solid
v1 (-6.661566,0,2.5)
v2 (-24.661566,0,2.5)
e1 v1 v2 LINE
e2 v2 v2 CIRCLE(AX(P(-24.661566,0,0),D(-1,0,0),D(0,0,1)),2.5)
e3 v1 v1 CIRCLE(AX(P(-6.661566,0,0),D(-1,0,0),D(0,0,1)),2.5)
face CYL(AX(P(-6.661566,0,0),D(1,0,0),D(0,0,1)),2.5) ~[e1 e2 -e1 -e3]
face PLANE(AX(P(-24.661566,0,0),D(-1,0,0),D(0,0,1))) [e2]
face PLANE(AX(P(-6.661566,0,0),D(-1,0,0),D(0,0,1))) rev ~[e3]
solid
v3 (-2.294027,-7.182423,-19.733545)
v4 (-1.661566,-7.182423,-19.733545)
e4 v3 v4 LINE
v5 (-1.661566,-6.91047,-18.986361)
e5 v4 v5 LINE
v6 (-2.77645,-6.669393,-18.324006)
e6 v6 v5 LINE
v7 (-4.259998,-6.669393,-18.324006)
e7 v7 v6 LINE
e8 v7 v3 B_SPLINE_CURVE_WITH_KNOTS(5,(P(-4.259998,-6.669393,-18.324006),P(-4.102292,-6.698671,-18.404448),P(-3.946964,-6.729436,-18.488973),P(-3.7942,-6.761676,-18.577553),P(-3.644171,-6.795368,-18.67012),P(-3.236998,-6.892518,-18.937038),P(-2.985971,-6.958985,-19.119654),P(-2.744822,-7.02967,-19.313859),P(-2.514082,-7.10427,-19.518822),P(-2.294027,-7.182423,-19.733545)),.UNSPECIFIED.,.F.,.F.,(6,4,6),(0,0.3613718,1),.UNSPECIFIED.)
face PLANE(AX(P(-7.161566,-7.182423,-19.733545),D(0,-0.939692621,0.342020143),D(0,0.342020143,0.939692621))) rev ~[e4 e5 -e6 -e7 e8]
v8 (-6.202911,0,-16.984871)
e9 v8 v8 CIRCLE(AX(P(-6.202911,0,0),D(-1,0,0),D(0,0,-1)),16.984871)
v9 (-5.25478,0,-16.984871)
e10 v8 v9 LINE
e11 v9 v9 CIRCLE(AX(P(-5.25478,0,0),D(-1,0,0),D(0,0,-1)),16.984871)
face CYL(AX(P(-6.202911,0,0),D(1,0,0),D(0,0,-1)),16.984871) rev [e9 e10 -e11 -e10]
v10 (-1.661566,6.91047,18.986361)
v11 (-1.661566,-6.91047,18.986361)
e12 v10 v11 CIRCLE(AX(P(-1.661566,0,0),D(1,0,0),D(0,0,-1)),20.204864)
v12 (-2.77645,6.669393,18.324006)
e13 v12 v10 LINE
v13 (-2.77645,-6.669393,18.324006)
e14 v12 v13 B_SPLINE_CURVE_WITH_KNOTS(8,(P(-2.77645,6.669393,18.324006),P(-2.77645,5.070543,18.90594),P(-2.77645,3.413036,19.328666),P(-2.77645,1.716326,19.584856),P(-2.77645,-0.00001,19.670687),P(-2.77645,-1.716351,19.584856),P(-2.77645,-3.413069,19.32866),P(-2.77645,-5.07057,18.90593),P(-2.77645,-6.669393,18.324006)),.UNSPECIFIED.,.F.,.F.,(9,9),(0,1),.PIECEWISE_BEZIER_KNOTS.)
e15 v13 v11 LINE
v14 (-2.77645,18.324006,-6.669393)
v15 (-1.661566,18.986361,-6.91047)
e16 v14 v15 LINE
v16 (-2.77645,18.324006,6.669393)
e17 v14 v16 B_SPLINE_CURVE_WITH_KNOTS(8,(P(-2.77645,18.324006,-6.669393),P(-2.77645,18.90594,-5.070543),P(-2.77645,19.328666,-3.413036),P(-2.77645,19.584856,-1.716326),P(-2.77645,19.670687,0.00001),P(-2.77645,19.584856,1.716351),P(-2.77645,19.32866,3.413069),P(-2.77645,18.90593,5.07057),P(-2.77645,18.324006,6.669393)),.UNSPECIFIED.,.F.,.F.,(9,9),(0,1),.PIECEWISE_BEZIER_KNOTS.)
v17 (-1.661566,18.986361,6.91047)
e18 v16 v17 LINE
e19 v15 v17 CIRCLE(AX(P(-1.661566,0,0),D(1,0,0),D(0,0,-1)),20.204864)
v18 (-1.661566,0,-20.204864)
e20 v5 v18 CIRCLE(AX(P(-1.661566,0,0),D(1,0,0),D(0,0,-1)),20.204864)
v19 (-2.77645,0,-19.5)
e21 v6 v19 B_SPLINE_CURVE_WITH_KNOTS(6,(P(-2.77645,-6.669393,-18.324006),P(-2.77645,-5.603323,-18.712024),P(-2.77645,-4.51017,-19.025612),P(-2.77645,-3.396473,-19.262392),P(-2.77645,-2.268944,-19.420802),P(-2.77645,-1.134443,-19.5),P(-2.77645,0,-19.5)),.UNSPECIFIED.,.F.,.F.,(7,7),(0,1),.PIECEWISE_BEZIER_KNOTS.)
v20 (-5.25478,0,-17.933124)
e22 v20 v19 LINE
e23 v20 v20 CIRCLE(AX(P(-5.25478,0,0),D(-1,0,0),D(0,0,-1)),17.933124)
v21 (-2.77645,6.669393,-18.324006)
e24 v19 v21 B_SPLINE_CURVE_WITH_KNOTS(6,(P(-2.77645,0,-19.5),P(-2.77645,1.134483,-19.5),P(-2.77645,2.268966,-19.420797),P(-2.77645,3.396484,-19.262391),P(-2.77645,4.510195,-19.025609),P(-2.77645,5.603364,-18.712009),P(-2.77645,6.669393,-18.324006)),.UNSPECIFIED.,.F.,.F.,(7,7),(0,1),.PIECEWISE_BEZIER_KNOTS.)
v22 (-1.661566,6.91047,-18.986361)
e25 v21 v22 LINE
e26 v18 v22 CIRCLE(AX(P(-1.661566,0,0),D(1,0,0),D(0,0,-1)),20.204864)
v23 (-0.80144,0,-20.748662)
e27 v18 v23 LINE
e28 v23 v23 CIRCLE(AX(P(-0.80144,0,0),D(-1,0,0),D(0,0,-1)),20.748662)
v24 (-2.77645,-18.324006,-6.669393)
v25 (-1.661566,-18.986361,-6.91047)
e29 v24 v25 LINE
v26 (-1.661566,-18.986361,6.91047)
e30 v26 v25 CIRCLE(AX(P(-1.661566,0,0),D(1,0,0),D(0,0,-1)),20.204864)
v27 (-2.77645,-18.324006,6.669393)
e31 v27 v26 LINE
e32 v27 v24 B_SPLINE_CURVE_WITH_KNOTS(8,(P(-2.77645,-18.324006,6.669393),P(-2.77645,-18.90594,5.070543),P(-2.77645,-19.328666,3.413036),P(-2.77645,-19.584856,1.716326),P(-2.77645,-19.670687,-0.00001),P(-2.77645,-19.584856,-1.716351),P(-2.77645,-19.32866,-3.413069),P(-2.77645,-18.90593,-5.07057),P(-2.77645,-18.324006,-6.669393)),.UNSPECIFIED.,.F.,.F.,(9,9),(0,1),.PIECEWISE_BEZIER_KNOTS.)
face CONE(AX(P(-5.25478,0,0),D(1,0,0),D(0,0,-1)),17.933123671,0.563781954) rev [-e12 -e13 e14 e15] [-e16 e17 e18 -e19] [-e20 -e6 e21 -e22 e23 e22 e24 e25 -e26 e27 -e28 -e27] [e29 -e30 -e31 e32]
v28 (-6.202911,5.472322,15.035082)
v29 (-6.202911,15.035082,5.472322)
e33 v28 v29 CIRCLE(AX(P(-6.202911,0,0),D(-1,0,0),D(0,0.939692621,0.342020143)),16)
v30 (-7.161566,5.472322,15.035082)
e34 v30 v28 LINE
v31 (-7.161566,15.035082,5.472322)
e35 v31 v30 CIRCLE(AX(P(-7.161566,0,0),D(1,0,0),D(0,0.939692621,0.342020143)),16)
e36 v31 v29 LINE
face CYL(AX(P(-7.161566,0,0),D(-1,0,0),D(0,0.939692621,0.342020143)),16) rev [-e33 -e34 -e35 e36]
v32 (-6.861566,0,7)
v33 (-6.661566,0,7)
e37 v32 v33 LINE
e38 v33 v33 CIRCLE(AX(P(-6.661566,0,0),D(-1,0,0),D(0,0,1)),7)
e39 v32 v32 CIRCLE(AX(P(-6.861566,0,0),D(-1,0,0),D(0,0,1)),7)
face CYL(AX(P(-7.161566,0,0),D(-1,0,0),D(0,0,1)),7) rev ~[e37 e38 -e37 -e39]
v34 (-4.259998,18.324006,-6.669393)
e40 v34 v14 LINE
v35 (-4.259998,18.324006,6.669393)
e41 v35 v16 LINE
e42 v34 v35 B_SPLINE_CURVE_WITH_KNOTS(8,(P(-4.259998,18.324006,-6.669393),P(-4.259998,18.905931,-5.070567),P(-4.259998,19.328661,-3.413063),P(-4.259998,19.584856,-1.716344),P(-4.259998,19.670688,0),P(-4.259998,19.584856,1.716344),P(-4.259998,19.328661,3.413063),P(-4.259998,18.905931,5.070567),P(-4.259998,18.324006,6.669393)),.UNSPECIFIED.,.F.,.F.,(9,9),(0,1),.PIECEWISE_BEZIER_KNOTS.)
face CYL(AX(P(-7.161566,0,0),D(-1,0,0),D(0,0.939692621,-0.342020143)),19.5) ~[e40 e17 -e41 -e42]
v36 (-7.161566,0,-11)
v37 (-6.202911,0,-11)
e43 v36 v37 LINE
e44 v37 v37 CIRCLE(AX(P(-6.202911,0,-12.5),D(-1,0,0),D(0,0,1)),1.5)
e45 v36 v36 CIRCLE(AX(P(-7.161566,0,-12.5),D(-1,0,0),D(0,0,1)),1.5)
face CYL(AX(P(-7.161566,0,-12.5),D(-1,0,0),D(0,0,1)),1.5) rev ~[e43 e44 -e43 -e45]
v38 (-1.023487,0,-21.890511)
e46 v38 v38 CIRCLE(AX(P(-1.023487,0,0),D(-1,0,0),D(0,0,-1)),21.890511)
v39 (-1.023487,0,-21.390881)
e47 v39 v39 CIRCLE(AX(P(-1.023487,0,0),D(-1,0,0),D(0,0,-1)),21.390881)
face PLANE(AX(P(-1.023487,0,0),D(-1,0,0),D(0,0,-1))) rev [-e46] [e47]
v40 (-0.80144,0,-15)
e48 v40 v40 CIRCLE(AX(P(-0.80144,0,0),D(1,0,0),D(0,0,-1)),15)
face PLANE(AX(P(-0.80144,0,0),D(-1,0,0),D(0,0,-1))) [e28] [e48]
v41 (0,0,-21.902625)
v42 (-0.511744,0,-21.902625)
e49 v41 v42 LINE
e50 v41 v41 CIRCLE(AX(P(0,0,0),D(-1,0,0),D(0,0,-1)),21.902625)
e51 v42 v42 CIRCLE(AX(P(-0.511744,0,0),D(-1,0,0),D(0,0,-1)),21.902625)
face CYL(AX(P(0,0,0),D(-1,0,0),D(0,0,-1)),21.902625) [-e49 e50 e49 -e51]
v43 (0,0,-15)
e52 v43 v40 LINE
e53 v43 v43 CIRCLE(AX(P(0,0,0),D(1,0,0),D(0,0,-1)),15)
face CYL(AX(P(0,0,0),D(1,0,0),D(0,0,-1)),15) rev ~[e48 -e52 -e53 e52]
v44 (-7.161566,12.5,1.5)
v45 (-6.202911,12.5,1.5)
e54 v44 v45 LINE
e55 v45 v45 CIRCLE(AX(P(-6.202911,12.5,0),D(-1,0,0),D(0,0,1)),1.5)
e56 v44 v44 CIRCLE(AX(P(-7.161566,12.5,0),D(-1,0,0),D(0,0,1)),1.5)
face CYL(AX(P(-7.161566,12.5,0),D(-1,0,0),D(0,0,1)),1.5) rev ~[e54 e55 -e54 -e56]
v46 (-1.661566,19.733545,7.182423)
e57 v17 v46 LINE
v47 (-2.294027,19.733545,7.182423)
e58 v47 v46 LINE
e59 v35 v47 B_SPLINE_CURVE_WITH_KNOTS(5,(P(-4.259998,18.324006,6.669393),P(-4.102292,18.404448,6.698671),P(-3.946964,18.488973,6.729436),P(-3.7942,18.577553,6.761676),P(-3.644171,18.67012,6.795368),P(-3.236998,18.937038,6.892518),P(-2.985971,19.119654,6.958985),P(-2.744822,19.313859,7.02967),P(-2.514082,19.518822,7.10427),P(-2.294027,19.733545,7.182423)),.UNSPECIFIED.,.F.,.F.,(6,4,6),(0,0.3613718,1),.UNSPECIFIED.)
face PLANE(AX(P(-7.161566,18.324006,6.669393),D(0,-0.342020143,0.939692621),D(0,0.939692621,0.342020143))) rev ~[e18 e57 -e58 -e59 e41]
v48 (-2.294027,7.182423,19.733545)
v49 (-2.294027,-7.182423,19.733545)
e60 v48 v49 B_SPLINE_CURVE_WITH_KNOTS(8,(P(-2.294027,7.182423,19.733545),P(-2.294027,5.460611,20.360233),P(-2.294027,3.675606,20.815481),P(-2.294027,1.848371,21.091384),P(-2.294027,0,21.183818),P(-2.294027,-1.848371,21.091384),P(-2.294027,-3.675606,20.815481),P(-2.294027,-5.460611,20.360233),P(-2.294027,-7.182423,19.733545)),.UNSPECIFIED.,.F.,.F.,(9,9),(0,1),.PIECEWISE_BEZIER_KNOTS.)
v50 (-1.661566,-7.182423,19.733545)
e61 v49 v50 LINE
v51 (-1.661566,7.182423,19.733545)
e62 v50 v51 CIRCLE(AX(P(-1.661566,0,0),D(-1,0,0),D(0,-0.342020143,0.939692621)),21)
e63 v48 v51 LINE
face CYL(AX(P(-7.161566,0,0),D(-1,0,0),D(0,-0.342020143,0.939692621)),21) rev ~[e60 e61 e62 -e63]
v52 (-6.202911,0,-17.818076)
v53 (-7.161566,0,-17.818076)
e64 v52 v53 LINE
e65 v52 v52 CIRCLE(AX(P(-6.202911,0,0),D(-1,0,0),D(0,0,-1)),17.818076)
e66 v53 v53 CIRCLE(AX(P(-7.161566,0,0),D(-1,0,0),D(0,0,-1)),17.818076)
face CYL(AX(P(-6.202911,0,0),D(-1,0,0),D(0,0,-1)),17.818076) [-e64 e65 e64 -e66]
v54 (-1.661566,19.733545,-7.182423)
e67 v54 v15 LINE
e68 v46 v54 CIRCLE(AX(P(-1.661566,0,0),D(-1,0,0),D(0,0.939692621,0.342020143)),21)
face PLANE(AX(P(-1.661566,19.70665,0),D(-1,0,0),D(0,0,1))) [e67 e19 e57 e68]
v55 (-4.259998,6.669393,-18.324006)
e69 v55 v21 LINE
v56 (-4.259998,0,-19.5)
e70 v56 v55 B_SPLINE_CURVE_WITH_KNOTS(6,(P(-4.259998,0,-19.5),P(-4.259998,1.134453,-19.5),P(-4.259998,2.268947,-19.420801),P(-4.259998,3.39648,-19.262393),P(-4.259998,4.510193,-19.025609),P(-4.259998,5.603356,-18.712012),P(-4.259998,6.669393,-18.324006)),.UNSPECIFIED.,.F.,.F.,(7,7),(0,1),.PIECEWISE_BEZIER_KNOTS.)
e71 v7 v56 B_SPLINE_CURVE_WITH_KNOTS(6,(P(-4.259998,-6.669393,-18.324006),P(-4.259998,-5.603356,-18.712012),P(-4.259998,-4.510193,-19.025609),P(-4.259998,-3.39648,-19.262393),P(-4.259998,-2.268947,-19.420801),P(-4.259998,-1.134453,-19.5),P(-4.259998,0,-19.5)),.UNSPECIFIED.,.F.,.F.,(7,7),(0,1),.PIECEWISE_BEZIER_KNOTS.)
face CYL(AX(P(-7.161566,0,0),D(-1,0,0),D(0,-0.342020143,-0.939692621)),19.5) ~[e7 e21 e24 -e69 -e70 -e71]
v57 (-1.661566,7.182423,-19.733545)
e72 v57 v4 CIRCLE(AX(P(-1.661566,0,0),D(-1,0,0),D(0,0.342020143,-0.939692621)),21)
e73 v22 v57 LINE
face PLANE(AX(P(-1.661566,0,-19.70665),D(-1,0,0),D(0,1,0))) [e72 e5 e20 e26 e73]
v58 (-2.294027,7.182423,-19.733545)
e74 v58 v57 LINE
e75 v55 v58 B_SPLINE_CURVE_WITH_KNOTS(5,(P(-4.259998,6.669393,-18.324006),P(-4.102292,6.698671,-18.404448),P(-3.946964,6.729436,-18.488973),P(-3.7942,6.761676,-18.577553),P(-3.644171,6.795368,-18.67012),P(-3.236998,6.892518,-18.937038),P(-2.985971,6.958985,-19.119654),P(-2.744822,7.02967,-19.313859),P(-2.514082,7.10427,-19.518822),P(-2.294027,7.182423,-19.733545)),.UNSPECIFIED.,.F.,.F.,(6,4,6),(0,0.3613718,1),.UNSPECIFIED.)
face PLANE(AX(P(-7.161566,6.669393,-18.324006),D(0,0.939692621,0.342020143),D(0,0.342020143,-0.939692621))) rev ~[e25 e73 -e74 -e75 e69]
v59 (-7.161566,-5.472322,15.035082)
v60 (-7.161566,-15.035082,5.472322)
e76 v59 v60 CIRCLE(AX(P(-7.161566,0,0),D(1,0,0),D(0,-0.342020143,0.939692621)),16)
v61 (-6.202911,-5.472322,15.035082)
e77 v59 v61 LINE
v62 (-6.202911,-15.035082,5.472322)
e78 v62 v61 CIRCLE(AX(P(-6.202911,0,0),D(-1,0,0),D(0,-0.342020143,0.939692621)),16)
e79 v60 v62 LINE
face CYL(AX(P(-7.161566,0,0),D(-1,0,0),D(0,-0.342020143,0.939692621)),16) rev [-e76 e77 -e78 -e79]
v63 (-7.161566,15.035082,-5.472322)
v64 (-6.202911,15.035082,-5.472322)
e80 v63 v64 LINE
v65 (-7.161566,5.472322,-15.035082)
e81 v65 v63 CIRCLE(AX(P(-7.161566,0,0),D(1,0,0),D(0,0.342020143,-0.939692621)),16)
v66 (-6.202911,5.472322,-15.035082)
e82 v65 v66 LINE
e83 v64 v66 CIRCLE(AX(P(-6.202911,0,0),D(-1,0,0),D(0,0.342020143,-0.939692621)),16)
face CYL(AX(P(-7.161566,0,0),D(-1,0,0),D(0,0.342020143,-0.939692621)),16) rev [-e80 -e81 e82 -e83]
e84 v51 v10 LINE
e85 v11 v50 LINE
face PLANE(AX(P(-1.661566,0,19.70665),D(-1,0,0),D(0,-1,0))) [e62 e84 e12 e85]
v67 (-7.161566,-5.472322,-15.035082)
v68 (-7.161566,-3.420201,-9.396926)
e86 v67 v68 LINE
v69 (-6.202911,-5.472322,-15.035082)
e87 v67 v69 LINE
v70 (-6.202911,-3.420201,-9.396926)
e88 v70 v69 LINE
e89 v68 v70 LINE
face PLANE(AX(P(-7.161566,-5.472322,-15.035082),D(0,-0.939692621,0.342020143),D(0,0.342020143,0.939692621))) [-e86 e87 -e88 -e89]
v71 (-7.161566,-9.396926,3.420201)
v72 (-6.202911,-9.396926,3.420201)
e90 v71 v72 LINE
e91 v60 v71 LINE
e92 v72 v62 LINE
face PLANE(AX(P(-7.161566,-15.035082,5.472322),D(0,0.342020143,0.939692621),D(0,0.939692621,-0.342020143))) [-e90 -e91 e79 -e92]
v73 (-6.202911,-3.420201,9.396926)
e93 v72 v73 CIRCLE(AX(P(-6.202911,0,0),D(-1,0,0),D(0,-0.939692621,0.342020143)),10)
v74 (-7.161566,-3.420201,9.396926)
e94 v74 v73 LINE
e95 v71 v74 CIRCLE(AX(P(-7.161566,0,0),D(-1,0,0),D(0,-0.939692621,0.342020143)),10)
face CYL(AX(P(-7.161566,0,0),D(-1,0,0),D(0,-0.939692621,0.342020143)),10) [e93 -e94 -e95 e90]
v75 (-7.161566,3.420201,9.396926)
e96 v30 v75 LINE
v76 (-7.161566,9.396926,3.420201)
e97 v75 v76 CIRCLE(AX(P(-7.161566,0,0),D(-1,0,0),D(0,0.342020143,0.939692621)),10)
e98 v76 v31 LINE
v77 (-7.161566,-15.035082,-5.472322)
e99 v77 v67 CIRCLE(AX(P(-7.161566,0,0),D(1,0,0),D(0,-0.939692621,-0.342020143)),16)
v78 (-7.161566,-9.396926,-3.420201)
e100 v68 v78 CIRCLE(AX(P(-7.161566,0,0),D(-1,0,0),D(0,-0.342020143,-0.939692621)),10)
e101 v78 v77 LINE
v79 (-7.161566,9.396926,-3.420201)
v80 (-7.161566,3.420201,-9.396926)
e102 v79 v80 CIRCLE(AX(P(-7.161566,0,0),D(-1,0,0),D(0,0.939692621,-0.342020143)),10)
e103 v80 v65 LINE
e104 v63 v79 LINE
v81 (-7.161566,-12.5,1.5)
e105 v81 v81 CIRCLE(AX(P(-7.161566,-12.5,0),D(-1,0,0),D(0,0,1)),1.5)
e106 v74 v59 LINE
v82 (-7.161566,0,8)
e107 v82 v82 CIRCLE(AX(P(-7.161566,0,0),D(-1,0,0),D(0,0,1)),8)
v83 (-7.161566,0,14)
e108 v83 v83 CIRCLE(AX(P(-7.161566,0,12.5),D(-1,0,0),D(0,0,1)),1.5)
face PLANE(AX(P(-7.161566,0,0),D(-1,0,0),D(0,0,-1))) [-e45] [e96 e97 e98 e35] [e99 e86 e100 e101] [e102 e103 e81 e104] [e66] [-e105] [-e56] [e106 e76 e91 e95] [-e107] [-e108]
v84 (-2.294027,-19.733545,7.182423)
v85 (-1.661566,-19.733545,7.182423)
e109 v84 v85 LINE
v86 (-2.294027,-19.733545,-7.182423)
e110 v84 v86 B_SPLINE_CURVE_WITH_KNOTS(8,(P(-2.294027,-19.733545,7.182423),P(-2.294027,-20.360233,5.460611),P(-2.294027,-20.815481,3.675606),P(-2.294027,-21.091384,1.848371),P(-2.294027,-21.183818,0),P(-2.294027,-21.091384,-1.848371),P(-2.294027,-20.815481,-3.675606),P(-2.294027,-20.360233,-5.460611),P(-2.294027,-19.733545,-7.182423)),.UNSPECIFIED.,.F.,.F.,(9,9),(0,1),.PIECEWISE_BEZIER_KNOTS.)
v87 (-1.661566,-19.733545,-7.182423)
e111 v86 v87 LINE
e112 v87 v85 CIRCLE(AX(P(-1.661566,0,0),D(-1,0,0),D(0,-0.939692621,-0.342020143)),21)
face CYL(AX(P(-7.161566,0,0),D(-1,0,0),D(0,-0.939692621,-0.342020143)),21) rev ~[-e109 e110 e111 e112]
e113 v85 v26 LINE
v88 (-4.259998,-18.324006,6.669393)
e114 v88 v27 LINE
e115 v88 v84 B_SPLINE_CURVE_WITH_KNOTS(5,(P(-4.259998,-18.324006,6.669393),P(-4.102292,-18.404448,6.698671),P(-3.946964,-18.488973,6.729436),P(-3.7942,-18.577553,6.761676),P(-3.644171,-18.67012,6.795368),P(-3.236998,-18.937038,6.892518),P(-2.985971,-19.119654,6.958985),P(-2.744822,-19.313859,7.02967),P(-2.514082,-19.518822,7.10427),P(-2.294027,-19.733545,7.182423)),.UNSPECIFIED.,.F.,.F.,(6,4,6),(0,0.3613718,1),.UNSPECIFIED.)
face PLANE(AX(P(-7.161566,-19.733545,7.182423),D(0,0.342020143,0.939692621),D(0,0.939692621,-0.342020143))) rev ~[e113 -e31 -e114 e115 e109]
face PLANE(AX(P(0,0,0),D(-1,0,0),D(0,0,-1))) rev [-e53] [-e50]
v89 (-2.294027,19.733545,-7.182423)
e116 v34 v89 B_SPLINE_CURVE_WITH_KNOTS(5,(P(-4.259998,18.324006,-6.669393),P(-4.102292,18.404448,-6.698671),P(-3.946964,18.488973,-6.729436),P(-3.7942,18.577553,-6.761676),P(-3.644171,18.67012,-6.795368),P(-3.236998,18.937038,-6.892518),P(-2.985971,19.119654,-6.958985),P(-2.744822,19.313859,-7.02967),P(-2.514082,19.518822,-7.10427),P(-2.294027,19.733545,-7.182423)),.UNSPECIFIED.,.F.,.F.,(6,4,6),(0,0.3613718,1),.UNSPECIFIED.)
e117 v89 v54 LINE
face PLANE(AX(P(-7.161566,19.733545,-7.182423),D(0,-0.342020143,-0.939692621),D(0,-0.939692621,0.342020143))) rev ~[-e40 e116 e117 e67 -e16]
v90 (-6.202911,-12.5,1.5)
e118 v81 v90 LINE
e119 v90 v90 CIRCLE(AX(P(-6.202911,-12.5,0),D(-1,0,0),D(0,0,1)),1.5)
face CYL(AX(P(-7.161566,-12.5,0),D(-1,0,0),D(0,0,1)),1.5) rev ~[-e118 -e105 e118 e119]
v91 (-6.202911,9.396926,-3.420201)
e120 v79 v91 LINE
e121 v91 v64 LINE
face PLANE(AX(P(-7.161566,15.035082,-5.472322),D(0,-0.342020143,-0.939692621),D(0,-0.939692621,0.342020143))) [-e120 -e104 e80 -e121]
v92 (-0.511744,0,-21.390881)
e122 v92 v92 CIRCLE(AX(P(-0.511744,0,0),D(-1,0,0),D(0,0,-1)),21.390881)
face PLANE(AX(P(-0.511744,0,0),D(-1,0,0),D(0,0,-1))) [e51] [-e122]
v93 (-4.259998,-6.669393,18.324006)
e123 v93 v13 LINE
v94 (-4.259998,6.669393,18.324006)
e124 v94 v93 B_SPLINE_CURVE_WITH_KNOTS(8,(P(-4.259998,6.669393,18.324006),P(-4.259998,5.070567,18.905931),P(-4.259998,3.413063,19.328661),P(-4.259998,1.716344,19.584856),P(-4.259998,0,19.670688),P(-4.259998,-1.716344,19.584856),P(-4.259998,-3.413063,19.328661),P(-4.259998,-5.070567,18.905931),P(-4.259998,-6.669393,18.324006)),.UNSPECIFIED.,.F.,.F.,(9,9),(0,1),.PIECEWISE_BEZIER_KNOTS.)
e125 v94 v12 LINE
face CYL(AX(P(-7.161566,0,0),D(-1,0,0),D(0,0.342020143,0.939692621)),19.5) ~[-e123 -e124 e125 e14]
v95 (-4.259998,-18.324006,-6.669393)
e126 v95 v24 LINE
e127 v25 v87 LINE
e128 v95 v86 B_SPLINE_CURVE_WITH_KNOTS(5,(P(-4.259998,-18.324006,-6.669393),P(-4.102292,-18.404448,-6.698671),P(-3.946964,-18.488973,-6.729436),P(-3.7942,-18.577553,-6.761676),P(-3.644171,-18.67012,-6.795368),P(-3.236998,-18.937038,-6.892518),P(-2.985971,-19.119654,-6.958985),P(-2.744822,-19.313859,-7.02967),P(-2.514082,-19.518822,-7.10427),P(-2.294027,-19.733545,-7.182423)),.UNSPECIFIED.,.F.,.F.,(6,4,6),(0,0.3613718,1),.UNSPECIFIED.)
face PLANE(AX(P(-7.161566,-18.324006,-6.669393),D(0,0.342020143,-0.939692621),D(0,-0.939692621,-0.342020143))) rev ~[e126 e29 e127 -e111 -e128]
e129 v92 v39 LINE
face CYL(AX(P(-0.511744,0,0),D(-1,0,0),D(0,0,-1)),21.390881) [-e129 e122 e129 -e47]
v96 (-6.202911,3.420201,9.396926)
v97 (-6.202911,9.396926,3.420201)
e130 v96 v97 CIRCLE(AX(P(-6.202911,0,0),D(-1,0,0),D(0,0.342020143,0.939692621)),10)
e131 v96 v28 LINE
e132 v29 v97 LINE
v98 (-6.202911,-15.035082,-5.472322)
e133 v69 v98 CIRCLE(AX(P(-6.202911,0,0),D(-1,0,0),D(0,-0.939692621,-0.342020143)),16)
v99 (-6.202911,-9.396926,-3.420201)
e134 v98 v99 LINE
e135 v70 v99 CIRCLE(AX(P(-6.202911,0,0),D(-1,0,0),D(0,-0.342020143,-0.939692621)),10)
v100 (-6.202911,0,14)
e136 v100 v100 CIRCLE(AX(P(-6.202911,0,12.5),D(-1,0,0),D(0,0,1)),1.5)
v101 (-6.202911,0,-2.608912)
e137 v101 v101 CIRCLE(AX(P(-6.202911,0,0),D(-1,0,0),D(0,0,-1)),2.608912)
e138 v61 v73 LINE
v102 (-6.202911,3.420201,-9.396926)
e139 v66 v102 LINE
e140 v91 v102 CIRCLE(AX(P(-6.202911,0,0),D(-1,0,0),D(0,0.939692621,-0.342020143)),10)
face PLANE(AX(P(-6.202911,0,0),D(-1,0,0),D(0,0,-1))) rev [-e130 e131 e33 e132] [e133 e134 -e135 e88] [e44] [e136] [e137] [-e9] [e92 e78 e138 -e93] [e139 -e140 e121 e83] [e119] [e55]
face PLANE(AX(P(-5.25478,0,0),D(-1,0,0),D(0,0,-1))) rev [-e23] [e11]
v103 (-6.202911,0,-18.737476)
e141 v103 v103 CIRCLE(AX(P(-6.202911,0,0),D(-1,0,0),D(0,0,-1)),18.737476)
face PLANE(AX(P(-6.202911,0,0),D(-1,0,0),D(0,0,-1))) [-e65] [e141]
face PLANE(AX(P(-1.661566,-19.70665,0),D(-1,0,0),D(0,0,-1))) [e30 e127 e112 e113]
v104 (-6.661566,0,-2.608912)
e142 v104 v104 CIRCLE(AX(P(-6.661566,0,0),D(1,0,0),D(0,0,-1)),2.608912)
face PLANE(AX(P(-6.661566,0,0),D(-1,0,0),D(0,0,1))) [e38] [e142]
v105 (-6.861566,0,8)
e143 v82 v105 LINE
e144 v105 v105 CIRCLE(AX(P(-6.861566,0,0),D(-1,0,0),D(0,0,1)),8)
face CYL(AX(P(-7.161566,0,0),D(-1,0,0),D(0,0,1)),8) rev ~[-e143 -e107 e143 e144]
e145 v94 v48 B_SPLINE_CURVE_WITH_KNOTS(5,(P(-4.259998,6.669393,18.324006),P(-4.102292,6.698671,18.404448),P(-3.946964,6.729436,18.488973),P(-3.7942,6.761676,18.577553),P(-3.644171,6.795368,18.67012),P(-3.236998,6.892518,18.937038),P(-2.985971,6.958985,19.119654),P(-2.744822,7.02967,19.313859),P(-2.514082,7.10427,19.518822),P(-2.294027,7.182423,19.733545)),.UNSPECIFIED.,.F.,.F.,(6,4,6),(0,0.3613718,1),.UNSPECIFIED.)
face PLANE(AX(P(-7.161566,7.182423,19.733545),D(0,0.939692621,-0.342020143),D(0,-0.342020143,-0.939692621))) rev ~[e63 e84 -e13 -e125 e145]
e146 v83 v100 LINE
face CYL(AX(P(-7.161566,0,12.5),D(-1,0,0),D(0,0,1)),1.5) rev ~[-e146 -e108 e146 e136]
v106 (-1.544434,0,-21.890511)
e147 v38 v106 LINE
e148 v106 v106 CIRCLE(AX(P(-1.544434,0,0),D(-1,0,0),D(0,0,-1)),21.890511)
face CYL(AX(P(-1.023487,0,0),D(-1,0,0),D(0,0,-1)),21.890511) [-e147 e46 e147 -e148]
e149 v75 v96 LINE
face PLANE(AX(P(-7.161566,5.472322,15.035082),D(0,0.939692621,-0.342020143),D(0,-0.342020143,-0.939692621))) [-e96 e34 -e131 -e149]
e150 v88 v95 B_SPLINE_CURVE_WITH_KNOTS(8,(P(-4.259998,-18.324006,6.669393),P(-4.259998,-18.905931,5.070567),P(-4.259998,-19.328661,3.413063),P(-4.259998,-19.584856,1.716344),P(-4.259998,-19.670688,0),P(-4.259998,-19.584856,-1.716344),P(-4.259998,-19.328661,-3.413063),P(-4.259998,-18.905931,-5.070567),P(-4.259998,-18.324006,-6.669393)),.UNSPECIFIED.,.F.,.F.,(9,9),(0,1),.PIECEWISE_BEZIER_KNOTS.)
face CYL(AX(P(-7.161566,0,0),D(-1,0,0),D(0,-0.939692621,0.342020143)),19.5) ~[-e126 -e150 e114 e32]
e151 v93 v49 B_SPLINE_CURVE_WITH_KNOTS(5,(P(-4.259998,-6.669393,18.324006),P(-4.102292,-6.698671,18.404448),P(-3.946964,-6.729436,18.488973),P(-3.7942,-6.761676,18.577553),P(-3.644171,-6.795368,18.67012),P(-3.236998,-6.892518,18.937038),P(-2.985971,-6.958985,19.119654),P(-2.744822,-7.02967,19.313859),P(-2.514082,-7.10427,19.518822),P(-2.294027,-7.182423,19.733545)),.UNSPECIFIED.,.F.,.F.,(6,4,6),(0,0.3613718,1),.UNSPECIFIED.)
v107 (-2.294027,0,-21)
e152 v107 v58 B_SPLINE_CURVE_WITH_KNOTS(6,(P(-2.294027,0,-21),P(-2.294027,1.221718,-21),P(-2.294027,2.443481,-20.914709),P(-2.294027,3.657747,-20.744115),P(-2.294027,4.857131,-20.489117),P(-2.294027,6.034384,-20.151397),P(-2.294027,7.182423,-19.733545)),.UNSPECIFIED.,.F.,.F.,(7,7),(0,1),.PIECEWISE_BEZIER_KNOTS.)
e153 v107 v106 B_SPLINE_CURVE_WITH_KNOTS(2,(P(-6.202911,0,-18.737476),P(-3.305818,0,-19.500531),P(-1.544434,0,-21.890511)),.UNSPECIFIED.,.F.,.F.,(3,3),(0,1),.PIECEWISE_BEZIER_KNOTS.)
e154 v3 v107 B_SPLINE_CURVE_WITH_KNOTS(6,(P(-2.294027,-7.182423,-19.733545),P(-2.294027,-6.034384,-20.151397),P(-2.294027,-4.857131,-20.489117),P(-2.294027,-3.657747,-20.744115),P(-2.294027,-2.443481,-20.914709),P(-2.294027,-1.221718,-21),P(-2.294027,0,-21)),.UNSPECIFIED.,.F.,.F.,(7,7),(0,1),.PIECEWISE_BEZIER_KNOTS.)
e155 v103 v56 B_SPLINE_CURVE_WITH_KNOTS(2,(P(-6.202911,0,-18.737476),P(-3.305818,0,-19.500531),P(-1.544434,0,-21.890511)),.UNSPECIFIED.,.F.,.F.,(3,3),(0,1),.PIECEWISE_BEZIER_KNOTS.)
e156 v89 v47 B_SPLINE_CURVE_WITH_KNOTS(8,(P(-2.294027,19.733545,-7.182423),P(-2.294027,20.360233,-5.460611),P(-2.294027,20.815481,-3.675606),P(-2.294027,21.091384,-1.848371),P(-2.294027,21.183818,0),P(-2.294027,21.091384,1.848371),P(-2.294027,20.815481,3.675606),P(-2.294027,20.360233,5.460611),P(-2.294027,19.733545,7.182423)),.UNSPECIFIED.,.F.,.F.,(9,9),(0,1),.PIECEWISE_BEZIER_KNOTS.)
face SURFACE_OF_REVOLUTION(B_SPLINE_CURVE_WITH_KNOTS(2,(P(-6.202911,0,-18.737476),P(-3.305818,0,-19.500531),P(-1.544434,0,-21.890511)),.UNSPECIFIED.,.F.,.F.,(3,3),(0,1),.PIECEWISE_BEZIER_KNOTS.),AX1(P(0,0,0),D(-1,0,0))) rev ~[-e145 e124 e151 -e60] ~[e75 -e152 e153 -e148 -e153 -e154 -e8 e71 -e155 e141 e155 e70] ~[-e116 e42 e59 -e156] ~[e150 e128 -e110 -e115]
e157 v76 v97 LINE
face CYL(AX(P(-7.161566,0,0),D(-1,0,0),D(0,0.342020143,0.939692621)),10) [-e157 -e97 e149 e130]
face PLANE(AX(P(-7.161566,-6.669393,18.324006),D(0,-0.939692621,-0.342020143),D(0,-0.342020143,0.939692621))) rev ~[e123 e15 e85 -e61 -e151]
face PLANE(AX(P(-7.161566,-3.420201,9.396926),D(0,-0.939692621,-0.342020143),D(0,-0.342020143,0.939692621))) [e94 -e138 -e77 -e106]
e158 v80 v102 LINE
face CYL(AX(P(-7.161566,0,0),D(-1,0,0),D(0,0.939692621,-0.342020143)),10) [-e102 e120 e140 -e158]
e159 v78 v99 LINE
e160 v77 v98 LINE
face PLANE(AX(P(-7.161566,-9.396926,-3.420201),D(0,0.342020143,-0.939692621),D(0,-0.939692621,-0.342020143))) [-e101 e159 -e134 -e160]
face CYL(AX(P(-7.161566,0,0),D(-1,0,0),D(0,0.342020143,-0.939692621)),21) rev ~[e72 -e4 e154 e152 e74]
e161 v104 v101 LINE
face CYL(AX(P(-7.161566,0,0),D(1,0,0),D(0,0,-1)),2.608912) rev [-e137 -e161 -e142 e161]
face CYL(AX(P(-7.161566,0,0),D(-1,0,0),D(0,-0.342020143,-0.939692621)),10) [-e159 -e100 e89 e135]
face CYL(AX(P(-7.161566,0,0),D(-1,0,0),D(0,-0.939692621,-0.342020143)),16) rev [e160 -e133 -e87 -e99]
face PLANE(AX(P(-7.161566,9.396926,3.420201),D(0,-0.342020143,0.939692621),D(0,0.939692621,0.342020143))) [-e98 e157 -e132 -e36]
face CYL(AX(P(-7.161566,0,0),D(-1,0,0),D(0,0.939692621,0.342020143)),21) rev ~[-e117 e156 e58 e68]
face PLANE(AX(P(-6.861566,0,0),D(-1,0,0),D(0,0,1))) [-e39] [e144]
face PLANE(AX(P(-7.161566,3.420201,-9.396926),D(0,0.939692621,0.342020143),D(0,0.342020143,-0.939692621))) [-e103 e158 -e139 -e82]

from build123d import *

# Parameters (mm, degrees)
SKETCH6_R           = 1.5
CUT_EXTRUDE2_DEPTH  = 10
SKETCH7_R           = 1.5
CUT_EXTRUDE3_DEPTH  = 10
SKETCH9_R           = 15
CUT_EXTRUDE6_DEPTH  = 2
SKETCH10_R          = 7
CUT_EXTRUDE10_DEPTH = 0.5
SKETCH11_R          = 8
CUT_EXTRUDE11_DEPTH = 0.3
CUT_EXTRUDE12_DEPTH = 5.5
CIRPATTERN1_COUNT   = 4
CUT_EXTRUDE13_DEPTH = 5.5
CIRPATTERN2_COUNT   = 4
SKETCH14_R          = 2.5
BOSS_EXTRUDE1_DEPTH = 18


with BuildPart() as part:
    # Sketch1 → Revolve5 (revolve)
    with BuildSketch(Plane(origin=(0, 0, 0), x_dir=(1, 0, 0), z_dir=(0, 1, 0))):
        with BuildLine():
            Line((-0.801439764, 0), (0, 0))
            Line((0, 0), (0, 21.902624806))
            Line((0, 21.902624806), (-0.51174357, 21.902624806))
            Line((-0.51174357, 21.902624806), (-0.51174357, 21.390881236))
            Line((-0.51174357, 21.390881236), (-1.02348714, 21.390881236))
            Line((-1.02348714, 21.390881236), (-1.02348714, 21.890510973))
            Line((-1.02348714, 21.890510973), (-1.544434098, 21.890510973))
            add(Edge.make_bspline(
                [(-6.202911031, 18.737475773), (-3.305817899, 19.500531362), (-1.544434098, 21.890510973)],
                knots=[0, 0, 0, 1, 1, 1], degree=2))
            Line((-6.202911031, 18.737475773), (-6.202911031, 17.818076408))
            Line((-6.202911031, 17.818076408), (-7.161566328, 17.818076408))
            Line((-7.161566328, 17.818076408), (-7.161566328, 2.608912222))
            Line((-7.161566328, 2.608912222), (-6.202911031, 2.608912222))
            Line((-6.202911031, 2.608912222), (-6.202911031, 16.984870734))
            Line((-6.202911031, 16.984870734), (-5.254780436, 16.984870734))
            Line((-5.254780436, 16.984870734), (-5.254780436, 17.933123671))
            Line((-5.254780436, 17.933123671), (-0.801439764, 20.748661883))
            Line((-0.801439764, 20.748661883), (-0.801439764, 0))
        make_face()
    revolve(axis=Axis((0, 0, 0), (-1, 0, 0)))

    # Sketch6 → Cut-Extrude2 (cut)
    with BuildSketch(Plane.ZY.offset(7.161566328)):
        with Locations((0, 12.5)):
            Circle(SKETCH6_R)
    extrude(amount=-CUT_EXTRUDE2_DEPTH, mode=Mode.SUBTRACT)

    # Sketch7 → Cut-Extrude3 (cut)
    with BuildSketch(Plane.ZY.offset(7.161566328)):
        with Locations((12.5, 0)):
            Circle(SKETCH7_R)
        with Locations((0, -12.5)):
            Circle(SKETCH7_R)
        with Locations((-12.5, 0)):
            Circle(SKETCH7_R)
    extrude(amount=-CUT_EXTRUDE3_DEPTH, mode=Mode.SUBTRACT)

    # Sketch9 → Cut-Extrude6 (cut)
    with BuildSketch(Plane(origin=(0, 0, 0), x_dir=(0, 0, -1), z_dir=(1, 0, 0))):
        Circle(SKETCH9_R)
    extrude(amount=-CUT_EXTRUDE6_DEPTH, mode=Mode.SUBTRACT)

    # Sketch10 → Cut-Extrude10 (cut)
    with BuildSketch(Plane.ZY.offset(7.161566328)):
        Circle(SKETCH10_R)
    extrude(amount=-CUT_EXTRUDE10_DEPTH, mode=Mode.SUBTRACT)

    # Sketch11 → Cut-Extrude11 (cut)
    with BuildSketch(Plane.ZY.offset(7.161566328)):
        Circle(SKETCH11_R)
    extrude(amount=-CUT_EXTRUDE11_DEPTH, mode=Mode.SUBTRACT)

    # Sketch12 → Cut-Extrude12 (cut)
    with BuildSketch(Plane.ZY.offset(7.161566328)):
        with BuildLine():
            ThreePointArc((-6.669392795, 18.324006105), (0, 19.5), (6.669392795, 18.324006105))
            Line((6.669392795, 18.324006105), (7.18242301, 19.733545037))
            ThreePointArc((7.18242301, 19.733545037), (0, 21), (-7.18242301, 19.733545037))
            Line((-7.18242301, 19.733545037), (-6.669392795, 18.324006105))
        make_face()
    cut_extrude12 = extrude(amount=-CUT_EXTRUDE12_DEPTH, mode=Mode.SUBTRACT)

    # CirPattern1: Cut-Extrude12 ×4 about axis
    cirpattern1_axis = Axis((-6.661566328, 0, 0), (-1, 0, 0))
    for i in range(1, CIRPATTERN1_COUNT):
        add(cut_extrude12.rotate(cirpattern1_axis, i * 360 / CIRPATTERN1_COUNT), mode=Mode.SUBTRACT)

    # Sketch13 → Cut-Extrude13 (cut)
    with BuildSketch(Plane.ZY.offset(7.161566328)):
        with BuildLine():
            Line((3.420201433, 9.396926208), (5.472322293, 15.035081933))
            ThreePointArc((5.472322293, 15.035081933), (11.313708499, 11.313708499), (15.035081933, 5.472322293))
            Line((15.035081933, 5.472322293), (9.396926208, 3.420201433))
            ThreePointArc((9.396926208, 3.420201433), (7.071067812, 7.071067812), (3.420201433, 9.396926208))
        make_face()
    cut_extrude13 = extrude(amount=-CUT_EXTRUDE13_DEPTH, mode=Mode.SUBTRACT)

    # CirPattern2: Cut-Extrude13 ×4 about axis
    cirpattern2_axis = Axis((-6.661566328, 0, 0), (-1, 0, 0))
    for i in range(1, CIRPATTERN2_COUNT):
        add(cut_extrude13.rotate(cirpattern2_axis, i * 360 / CIRPATTERN2_COUNT), mode=Mode.SUBTRACT)


with BuildPart() as body_2:
    # Sketch14 → Boss-Extrude1 (new body)
    with BuildSketch(Plane.ZY.offset(6.661566328)):
        Circle(SKETCH14_R)
    extrude(amount=BOSS_EXTRUDE1_DEPTH)


solid = Compound([part.part, body_2.part])
